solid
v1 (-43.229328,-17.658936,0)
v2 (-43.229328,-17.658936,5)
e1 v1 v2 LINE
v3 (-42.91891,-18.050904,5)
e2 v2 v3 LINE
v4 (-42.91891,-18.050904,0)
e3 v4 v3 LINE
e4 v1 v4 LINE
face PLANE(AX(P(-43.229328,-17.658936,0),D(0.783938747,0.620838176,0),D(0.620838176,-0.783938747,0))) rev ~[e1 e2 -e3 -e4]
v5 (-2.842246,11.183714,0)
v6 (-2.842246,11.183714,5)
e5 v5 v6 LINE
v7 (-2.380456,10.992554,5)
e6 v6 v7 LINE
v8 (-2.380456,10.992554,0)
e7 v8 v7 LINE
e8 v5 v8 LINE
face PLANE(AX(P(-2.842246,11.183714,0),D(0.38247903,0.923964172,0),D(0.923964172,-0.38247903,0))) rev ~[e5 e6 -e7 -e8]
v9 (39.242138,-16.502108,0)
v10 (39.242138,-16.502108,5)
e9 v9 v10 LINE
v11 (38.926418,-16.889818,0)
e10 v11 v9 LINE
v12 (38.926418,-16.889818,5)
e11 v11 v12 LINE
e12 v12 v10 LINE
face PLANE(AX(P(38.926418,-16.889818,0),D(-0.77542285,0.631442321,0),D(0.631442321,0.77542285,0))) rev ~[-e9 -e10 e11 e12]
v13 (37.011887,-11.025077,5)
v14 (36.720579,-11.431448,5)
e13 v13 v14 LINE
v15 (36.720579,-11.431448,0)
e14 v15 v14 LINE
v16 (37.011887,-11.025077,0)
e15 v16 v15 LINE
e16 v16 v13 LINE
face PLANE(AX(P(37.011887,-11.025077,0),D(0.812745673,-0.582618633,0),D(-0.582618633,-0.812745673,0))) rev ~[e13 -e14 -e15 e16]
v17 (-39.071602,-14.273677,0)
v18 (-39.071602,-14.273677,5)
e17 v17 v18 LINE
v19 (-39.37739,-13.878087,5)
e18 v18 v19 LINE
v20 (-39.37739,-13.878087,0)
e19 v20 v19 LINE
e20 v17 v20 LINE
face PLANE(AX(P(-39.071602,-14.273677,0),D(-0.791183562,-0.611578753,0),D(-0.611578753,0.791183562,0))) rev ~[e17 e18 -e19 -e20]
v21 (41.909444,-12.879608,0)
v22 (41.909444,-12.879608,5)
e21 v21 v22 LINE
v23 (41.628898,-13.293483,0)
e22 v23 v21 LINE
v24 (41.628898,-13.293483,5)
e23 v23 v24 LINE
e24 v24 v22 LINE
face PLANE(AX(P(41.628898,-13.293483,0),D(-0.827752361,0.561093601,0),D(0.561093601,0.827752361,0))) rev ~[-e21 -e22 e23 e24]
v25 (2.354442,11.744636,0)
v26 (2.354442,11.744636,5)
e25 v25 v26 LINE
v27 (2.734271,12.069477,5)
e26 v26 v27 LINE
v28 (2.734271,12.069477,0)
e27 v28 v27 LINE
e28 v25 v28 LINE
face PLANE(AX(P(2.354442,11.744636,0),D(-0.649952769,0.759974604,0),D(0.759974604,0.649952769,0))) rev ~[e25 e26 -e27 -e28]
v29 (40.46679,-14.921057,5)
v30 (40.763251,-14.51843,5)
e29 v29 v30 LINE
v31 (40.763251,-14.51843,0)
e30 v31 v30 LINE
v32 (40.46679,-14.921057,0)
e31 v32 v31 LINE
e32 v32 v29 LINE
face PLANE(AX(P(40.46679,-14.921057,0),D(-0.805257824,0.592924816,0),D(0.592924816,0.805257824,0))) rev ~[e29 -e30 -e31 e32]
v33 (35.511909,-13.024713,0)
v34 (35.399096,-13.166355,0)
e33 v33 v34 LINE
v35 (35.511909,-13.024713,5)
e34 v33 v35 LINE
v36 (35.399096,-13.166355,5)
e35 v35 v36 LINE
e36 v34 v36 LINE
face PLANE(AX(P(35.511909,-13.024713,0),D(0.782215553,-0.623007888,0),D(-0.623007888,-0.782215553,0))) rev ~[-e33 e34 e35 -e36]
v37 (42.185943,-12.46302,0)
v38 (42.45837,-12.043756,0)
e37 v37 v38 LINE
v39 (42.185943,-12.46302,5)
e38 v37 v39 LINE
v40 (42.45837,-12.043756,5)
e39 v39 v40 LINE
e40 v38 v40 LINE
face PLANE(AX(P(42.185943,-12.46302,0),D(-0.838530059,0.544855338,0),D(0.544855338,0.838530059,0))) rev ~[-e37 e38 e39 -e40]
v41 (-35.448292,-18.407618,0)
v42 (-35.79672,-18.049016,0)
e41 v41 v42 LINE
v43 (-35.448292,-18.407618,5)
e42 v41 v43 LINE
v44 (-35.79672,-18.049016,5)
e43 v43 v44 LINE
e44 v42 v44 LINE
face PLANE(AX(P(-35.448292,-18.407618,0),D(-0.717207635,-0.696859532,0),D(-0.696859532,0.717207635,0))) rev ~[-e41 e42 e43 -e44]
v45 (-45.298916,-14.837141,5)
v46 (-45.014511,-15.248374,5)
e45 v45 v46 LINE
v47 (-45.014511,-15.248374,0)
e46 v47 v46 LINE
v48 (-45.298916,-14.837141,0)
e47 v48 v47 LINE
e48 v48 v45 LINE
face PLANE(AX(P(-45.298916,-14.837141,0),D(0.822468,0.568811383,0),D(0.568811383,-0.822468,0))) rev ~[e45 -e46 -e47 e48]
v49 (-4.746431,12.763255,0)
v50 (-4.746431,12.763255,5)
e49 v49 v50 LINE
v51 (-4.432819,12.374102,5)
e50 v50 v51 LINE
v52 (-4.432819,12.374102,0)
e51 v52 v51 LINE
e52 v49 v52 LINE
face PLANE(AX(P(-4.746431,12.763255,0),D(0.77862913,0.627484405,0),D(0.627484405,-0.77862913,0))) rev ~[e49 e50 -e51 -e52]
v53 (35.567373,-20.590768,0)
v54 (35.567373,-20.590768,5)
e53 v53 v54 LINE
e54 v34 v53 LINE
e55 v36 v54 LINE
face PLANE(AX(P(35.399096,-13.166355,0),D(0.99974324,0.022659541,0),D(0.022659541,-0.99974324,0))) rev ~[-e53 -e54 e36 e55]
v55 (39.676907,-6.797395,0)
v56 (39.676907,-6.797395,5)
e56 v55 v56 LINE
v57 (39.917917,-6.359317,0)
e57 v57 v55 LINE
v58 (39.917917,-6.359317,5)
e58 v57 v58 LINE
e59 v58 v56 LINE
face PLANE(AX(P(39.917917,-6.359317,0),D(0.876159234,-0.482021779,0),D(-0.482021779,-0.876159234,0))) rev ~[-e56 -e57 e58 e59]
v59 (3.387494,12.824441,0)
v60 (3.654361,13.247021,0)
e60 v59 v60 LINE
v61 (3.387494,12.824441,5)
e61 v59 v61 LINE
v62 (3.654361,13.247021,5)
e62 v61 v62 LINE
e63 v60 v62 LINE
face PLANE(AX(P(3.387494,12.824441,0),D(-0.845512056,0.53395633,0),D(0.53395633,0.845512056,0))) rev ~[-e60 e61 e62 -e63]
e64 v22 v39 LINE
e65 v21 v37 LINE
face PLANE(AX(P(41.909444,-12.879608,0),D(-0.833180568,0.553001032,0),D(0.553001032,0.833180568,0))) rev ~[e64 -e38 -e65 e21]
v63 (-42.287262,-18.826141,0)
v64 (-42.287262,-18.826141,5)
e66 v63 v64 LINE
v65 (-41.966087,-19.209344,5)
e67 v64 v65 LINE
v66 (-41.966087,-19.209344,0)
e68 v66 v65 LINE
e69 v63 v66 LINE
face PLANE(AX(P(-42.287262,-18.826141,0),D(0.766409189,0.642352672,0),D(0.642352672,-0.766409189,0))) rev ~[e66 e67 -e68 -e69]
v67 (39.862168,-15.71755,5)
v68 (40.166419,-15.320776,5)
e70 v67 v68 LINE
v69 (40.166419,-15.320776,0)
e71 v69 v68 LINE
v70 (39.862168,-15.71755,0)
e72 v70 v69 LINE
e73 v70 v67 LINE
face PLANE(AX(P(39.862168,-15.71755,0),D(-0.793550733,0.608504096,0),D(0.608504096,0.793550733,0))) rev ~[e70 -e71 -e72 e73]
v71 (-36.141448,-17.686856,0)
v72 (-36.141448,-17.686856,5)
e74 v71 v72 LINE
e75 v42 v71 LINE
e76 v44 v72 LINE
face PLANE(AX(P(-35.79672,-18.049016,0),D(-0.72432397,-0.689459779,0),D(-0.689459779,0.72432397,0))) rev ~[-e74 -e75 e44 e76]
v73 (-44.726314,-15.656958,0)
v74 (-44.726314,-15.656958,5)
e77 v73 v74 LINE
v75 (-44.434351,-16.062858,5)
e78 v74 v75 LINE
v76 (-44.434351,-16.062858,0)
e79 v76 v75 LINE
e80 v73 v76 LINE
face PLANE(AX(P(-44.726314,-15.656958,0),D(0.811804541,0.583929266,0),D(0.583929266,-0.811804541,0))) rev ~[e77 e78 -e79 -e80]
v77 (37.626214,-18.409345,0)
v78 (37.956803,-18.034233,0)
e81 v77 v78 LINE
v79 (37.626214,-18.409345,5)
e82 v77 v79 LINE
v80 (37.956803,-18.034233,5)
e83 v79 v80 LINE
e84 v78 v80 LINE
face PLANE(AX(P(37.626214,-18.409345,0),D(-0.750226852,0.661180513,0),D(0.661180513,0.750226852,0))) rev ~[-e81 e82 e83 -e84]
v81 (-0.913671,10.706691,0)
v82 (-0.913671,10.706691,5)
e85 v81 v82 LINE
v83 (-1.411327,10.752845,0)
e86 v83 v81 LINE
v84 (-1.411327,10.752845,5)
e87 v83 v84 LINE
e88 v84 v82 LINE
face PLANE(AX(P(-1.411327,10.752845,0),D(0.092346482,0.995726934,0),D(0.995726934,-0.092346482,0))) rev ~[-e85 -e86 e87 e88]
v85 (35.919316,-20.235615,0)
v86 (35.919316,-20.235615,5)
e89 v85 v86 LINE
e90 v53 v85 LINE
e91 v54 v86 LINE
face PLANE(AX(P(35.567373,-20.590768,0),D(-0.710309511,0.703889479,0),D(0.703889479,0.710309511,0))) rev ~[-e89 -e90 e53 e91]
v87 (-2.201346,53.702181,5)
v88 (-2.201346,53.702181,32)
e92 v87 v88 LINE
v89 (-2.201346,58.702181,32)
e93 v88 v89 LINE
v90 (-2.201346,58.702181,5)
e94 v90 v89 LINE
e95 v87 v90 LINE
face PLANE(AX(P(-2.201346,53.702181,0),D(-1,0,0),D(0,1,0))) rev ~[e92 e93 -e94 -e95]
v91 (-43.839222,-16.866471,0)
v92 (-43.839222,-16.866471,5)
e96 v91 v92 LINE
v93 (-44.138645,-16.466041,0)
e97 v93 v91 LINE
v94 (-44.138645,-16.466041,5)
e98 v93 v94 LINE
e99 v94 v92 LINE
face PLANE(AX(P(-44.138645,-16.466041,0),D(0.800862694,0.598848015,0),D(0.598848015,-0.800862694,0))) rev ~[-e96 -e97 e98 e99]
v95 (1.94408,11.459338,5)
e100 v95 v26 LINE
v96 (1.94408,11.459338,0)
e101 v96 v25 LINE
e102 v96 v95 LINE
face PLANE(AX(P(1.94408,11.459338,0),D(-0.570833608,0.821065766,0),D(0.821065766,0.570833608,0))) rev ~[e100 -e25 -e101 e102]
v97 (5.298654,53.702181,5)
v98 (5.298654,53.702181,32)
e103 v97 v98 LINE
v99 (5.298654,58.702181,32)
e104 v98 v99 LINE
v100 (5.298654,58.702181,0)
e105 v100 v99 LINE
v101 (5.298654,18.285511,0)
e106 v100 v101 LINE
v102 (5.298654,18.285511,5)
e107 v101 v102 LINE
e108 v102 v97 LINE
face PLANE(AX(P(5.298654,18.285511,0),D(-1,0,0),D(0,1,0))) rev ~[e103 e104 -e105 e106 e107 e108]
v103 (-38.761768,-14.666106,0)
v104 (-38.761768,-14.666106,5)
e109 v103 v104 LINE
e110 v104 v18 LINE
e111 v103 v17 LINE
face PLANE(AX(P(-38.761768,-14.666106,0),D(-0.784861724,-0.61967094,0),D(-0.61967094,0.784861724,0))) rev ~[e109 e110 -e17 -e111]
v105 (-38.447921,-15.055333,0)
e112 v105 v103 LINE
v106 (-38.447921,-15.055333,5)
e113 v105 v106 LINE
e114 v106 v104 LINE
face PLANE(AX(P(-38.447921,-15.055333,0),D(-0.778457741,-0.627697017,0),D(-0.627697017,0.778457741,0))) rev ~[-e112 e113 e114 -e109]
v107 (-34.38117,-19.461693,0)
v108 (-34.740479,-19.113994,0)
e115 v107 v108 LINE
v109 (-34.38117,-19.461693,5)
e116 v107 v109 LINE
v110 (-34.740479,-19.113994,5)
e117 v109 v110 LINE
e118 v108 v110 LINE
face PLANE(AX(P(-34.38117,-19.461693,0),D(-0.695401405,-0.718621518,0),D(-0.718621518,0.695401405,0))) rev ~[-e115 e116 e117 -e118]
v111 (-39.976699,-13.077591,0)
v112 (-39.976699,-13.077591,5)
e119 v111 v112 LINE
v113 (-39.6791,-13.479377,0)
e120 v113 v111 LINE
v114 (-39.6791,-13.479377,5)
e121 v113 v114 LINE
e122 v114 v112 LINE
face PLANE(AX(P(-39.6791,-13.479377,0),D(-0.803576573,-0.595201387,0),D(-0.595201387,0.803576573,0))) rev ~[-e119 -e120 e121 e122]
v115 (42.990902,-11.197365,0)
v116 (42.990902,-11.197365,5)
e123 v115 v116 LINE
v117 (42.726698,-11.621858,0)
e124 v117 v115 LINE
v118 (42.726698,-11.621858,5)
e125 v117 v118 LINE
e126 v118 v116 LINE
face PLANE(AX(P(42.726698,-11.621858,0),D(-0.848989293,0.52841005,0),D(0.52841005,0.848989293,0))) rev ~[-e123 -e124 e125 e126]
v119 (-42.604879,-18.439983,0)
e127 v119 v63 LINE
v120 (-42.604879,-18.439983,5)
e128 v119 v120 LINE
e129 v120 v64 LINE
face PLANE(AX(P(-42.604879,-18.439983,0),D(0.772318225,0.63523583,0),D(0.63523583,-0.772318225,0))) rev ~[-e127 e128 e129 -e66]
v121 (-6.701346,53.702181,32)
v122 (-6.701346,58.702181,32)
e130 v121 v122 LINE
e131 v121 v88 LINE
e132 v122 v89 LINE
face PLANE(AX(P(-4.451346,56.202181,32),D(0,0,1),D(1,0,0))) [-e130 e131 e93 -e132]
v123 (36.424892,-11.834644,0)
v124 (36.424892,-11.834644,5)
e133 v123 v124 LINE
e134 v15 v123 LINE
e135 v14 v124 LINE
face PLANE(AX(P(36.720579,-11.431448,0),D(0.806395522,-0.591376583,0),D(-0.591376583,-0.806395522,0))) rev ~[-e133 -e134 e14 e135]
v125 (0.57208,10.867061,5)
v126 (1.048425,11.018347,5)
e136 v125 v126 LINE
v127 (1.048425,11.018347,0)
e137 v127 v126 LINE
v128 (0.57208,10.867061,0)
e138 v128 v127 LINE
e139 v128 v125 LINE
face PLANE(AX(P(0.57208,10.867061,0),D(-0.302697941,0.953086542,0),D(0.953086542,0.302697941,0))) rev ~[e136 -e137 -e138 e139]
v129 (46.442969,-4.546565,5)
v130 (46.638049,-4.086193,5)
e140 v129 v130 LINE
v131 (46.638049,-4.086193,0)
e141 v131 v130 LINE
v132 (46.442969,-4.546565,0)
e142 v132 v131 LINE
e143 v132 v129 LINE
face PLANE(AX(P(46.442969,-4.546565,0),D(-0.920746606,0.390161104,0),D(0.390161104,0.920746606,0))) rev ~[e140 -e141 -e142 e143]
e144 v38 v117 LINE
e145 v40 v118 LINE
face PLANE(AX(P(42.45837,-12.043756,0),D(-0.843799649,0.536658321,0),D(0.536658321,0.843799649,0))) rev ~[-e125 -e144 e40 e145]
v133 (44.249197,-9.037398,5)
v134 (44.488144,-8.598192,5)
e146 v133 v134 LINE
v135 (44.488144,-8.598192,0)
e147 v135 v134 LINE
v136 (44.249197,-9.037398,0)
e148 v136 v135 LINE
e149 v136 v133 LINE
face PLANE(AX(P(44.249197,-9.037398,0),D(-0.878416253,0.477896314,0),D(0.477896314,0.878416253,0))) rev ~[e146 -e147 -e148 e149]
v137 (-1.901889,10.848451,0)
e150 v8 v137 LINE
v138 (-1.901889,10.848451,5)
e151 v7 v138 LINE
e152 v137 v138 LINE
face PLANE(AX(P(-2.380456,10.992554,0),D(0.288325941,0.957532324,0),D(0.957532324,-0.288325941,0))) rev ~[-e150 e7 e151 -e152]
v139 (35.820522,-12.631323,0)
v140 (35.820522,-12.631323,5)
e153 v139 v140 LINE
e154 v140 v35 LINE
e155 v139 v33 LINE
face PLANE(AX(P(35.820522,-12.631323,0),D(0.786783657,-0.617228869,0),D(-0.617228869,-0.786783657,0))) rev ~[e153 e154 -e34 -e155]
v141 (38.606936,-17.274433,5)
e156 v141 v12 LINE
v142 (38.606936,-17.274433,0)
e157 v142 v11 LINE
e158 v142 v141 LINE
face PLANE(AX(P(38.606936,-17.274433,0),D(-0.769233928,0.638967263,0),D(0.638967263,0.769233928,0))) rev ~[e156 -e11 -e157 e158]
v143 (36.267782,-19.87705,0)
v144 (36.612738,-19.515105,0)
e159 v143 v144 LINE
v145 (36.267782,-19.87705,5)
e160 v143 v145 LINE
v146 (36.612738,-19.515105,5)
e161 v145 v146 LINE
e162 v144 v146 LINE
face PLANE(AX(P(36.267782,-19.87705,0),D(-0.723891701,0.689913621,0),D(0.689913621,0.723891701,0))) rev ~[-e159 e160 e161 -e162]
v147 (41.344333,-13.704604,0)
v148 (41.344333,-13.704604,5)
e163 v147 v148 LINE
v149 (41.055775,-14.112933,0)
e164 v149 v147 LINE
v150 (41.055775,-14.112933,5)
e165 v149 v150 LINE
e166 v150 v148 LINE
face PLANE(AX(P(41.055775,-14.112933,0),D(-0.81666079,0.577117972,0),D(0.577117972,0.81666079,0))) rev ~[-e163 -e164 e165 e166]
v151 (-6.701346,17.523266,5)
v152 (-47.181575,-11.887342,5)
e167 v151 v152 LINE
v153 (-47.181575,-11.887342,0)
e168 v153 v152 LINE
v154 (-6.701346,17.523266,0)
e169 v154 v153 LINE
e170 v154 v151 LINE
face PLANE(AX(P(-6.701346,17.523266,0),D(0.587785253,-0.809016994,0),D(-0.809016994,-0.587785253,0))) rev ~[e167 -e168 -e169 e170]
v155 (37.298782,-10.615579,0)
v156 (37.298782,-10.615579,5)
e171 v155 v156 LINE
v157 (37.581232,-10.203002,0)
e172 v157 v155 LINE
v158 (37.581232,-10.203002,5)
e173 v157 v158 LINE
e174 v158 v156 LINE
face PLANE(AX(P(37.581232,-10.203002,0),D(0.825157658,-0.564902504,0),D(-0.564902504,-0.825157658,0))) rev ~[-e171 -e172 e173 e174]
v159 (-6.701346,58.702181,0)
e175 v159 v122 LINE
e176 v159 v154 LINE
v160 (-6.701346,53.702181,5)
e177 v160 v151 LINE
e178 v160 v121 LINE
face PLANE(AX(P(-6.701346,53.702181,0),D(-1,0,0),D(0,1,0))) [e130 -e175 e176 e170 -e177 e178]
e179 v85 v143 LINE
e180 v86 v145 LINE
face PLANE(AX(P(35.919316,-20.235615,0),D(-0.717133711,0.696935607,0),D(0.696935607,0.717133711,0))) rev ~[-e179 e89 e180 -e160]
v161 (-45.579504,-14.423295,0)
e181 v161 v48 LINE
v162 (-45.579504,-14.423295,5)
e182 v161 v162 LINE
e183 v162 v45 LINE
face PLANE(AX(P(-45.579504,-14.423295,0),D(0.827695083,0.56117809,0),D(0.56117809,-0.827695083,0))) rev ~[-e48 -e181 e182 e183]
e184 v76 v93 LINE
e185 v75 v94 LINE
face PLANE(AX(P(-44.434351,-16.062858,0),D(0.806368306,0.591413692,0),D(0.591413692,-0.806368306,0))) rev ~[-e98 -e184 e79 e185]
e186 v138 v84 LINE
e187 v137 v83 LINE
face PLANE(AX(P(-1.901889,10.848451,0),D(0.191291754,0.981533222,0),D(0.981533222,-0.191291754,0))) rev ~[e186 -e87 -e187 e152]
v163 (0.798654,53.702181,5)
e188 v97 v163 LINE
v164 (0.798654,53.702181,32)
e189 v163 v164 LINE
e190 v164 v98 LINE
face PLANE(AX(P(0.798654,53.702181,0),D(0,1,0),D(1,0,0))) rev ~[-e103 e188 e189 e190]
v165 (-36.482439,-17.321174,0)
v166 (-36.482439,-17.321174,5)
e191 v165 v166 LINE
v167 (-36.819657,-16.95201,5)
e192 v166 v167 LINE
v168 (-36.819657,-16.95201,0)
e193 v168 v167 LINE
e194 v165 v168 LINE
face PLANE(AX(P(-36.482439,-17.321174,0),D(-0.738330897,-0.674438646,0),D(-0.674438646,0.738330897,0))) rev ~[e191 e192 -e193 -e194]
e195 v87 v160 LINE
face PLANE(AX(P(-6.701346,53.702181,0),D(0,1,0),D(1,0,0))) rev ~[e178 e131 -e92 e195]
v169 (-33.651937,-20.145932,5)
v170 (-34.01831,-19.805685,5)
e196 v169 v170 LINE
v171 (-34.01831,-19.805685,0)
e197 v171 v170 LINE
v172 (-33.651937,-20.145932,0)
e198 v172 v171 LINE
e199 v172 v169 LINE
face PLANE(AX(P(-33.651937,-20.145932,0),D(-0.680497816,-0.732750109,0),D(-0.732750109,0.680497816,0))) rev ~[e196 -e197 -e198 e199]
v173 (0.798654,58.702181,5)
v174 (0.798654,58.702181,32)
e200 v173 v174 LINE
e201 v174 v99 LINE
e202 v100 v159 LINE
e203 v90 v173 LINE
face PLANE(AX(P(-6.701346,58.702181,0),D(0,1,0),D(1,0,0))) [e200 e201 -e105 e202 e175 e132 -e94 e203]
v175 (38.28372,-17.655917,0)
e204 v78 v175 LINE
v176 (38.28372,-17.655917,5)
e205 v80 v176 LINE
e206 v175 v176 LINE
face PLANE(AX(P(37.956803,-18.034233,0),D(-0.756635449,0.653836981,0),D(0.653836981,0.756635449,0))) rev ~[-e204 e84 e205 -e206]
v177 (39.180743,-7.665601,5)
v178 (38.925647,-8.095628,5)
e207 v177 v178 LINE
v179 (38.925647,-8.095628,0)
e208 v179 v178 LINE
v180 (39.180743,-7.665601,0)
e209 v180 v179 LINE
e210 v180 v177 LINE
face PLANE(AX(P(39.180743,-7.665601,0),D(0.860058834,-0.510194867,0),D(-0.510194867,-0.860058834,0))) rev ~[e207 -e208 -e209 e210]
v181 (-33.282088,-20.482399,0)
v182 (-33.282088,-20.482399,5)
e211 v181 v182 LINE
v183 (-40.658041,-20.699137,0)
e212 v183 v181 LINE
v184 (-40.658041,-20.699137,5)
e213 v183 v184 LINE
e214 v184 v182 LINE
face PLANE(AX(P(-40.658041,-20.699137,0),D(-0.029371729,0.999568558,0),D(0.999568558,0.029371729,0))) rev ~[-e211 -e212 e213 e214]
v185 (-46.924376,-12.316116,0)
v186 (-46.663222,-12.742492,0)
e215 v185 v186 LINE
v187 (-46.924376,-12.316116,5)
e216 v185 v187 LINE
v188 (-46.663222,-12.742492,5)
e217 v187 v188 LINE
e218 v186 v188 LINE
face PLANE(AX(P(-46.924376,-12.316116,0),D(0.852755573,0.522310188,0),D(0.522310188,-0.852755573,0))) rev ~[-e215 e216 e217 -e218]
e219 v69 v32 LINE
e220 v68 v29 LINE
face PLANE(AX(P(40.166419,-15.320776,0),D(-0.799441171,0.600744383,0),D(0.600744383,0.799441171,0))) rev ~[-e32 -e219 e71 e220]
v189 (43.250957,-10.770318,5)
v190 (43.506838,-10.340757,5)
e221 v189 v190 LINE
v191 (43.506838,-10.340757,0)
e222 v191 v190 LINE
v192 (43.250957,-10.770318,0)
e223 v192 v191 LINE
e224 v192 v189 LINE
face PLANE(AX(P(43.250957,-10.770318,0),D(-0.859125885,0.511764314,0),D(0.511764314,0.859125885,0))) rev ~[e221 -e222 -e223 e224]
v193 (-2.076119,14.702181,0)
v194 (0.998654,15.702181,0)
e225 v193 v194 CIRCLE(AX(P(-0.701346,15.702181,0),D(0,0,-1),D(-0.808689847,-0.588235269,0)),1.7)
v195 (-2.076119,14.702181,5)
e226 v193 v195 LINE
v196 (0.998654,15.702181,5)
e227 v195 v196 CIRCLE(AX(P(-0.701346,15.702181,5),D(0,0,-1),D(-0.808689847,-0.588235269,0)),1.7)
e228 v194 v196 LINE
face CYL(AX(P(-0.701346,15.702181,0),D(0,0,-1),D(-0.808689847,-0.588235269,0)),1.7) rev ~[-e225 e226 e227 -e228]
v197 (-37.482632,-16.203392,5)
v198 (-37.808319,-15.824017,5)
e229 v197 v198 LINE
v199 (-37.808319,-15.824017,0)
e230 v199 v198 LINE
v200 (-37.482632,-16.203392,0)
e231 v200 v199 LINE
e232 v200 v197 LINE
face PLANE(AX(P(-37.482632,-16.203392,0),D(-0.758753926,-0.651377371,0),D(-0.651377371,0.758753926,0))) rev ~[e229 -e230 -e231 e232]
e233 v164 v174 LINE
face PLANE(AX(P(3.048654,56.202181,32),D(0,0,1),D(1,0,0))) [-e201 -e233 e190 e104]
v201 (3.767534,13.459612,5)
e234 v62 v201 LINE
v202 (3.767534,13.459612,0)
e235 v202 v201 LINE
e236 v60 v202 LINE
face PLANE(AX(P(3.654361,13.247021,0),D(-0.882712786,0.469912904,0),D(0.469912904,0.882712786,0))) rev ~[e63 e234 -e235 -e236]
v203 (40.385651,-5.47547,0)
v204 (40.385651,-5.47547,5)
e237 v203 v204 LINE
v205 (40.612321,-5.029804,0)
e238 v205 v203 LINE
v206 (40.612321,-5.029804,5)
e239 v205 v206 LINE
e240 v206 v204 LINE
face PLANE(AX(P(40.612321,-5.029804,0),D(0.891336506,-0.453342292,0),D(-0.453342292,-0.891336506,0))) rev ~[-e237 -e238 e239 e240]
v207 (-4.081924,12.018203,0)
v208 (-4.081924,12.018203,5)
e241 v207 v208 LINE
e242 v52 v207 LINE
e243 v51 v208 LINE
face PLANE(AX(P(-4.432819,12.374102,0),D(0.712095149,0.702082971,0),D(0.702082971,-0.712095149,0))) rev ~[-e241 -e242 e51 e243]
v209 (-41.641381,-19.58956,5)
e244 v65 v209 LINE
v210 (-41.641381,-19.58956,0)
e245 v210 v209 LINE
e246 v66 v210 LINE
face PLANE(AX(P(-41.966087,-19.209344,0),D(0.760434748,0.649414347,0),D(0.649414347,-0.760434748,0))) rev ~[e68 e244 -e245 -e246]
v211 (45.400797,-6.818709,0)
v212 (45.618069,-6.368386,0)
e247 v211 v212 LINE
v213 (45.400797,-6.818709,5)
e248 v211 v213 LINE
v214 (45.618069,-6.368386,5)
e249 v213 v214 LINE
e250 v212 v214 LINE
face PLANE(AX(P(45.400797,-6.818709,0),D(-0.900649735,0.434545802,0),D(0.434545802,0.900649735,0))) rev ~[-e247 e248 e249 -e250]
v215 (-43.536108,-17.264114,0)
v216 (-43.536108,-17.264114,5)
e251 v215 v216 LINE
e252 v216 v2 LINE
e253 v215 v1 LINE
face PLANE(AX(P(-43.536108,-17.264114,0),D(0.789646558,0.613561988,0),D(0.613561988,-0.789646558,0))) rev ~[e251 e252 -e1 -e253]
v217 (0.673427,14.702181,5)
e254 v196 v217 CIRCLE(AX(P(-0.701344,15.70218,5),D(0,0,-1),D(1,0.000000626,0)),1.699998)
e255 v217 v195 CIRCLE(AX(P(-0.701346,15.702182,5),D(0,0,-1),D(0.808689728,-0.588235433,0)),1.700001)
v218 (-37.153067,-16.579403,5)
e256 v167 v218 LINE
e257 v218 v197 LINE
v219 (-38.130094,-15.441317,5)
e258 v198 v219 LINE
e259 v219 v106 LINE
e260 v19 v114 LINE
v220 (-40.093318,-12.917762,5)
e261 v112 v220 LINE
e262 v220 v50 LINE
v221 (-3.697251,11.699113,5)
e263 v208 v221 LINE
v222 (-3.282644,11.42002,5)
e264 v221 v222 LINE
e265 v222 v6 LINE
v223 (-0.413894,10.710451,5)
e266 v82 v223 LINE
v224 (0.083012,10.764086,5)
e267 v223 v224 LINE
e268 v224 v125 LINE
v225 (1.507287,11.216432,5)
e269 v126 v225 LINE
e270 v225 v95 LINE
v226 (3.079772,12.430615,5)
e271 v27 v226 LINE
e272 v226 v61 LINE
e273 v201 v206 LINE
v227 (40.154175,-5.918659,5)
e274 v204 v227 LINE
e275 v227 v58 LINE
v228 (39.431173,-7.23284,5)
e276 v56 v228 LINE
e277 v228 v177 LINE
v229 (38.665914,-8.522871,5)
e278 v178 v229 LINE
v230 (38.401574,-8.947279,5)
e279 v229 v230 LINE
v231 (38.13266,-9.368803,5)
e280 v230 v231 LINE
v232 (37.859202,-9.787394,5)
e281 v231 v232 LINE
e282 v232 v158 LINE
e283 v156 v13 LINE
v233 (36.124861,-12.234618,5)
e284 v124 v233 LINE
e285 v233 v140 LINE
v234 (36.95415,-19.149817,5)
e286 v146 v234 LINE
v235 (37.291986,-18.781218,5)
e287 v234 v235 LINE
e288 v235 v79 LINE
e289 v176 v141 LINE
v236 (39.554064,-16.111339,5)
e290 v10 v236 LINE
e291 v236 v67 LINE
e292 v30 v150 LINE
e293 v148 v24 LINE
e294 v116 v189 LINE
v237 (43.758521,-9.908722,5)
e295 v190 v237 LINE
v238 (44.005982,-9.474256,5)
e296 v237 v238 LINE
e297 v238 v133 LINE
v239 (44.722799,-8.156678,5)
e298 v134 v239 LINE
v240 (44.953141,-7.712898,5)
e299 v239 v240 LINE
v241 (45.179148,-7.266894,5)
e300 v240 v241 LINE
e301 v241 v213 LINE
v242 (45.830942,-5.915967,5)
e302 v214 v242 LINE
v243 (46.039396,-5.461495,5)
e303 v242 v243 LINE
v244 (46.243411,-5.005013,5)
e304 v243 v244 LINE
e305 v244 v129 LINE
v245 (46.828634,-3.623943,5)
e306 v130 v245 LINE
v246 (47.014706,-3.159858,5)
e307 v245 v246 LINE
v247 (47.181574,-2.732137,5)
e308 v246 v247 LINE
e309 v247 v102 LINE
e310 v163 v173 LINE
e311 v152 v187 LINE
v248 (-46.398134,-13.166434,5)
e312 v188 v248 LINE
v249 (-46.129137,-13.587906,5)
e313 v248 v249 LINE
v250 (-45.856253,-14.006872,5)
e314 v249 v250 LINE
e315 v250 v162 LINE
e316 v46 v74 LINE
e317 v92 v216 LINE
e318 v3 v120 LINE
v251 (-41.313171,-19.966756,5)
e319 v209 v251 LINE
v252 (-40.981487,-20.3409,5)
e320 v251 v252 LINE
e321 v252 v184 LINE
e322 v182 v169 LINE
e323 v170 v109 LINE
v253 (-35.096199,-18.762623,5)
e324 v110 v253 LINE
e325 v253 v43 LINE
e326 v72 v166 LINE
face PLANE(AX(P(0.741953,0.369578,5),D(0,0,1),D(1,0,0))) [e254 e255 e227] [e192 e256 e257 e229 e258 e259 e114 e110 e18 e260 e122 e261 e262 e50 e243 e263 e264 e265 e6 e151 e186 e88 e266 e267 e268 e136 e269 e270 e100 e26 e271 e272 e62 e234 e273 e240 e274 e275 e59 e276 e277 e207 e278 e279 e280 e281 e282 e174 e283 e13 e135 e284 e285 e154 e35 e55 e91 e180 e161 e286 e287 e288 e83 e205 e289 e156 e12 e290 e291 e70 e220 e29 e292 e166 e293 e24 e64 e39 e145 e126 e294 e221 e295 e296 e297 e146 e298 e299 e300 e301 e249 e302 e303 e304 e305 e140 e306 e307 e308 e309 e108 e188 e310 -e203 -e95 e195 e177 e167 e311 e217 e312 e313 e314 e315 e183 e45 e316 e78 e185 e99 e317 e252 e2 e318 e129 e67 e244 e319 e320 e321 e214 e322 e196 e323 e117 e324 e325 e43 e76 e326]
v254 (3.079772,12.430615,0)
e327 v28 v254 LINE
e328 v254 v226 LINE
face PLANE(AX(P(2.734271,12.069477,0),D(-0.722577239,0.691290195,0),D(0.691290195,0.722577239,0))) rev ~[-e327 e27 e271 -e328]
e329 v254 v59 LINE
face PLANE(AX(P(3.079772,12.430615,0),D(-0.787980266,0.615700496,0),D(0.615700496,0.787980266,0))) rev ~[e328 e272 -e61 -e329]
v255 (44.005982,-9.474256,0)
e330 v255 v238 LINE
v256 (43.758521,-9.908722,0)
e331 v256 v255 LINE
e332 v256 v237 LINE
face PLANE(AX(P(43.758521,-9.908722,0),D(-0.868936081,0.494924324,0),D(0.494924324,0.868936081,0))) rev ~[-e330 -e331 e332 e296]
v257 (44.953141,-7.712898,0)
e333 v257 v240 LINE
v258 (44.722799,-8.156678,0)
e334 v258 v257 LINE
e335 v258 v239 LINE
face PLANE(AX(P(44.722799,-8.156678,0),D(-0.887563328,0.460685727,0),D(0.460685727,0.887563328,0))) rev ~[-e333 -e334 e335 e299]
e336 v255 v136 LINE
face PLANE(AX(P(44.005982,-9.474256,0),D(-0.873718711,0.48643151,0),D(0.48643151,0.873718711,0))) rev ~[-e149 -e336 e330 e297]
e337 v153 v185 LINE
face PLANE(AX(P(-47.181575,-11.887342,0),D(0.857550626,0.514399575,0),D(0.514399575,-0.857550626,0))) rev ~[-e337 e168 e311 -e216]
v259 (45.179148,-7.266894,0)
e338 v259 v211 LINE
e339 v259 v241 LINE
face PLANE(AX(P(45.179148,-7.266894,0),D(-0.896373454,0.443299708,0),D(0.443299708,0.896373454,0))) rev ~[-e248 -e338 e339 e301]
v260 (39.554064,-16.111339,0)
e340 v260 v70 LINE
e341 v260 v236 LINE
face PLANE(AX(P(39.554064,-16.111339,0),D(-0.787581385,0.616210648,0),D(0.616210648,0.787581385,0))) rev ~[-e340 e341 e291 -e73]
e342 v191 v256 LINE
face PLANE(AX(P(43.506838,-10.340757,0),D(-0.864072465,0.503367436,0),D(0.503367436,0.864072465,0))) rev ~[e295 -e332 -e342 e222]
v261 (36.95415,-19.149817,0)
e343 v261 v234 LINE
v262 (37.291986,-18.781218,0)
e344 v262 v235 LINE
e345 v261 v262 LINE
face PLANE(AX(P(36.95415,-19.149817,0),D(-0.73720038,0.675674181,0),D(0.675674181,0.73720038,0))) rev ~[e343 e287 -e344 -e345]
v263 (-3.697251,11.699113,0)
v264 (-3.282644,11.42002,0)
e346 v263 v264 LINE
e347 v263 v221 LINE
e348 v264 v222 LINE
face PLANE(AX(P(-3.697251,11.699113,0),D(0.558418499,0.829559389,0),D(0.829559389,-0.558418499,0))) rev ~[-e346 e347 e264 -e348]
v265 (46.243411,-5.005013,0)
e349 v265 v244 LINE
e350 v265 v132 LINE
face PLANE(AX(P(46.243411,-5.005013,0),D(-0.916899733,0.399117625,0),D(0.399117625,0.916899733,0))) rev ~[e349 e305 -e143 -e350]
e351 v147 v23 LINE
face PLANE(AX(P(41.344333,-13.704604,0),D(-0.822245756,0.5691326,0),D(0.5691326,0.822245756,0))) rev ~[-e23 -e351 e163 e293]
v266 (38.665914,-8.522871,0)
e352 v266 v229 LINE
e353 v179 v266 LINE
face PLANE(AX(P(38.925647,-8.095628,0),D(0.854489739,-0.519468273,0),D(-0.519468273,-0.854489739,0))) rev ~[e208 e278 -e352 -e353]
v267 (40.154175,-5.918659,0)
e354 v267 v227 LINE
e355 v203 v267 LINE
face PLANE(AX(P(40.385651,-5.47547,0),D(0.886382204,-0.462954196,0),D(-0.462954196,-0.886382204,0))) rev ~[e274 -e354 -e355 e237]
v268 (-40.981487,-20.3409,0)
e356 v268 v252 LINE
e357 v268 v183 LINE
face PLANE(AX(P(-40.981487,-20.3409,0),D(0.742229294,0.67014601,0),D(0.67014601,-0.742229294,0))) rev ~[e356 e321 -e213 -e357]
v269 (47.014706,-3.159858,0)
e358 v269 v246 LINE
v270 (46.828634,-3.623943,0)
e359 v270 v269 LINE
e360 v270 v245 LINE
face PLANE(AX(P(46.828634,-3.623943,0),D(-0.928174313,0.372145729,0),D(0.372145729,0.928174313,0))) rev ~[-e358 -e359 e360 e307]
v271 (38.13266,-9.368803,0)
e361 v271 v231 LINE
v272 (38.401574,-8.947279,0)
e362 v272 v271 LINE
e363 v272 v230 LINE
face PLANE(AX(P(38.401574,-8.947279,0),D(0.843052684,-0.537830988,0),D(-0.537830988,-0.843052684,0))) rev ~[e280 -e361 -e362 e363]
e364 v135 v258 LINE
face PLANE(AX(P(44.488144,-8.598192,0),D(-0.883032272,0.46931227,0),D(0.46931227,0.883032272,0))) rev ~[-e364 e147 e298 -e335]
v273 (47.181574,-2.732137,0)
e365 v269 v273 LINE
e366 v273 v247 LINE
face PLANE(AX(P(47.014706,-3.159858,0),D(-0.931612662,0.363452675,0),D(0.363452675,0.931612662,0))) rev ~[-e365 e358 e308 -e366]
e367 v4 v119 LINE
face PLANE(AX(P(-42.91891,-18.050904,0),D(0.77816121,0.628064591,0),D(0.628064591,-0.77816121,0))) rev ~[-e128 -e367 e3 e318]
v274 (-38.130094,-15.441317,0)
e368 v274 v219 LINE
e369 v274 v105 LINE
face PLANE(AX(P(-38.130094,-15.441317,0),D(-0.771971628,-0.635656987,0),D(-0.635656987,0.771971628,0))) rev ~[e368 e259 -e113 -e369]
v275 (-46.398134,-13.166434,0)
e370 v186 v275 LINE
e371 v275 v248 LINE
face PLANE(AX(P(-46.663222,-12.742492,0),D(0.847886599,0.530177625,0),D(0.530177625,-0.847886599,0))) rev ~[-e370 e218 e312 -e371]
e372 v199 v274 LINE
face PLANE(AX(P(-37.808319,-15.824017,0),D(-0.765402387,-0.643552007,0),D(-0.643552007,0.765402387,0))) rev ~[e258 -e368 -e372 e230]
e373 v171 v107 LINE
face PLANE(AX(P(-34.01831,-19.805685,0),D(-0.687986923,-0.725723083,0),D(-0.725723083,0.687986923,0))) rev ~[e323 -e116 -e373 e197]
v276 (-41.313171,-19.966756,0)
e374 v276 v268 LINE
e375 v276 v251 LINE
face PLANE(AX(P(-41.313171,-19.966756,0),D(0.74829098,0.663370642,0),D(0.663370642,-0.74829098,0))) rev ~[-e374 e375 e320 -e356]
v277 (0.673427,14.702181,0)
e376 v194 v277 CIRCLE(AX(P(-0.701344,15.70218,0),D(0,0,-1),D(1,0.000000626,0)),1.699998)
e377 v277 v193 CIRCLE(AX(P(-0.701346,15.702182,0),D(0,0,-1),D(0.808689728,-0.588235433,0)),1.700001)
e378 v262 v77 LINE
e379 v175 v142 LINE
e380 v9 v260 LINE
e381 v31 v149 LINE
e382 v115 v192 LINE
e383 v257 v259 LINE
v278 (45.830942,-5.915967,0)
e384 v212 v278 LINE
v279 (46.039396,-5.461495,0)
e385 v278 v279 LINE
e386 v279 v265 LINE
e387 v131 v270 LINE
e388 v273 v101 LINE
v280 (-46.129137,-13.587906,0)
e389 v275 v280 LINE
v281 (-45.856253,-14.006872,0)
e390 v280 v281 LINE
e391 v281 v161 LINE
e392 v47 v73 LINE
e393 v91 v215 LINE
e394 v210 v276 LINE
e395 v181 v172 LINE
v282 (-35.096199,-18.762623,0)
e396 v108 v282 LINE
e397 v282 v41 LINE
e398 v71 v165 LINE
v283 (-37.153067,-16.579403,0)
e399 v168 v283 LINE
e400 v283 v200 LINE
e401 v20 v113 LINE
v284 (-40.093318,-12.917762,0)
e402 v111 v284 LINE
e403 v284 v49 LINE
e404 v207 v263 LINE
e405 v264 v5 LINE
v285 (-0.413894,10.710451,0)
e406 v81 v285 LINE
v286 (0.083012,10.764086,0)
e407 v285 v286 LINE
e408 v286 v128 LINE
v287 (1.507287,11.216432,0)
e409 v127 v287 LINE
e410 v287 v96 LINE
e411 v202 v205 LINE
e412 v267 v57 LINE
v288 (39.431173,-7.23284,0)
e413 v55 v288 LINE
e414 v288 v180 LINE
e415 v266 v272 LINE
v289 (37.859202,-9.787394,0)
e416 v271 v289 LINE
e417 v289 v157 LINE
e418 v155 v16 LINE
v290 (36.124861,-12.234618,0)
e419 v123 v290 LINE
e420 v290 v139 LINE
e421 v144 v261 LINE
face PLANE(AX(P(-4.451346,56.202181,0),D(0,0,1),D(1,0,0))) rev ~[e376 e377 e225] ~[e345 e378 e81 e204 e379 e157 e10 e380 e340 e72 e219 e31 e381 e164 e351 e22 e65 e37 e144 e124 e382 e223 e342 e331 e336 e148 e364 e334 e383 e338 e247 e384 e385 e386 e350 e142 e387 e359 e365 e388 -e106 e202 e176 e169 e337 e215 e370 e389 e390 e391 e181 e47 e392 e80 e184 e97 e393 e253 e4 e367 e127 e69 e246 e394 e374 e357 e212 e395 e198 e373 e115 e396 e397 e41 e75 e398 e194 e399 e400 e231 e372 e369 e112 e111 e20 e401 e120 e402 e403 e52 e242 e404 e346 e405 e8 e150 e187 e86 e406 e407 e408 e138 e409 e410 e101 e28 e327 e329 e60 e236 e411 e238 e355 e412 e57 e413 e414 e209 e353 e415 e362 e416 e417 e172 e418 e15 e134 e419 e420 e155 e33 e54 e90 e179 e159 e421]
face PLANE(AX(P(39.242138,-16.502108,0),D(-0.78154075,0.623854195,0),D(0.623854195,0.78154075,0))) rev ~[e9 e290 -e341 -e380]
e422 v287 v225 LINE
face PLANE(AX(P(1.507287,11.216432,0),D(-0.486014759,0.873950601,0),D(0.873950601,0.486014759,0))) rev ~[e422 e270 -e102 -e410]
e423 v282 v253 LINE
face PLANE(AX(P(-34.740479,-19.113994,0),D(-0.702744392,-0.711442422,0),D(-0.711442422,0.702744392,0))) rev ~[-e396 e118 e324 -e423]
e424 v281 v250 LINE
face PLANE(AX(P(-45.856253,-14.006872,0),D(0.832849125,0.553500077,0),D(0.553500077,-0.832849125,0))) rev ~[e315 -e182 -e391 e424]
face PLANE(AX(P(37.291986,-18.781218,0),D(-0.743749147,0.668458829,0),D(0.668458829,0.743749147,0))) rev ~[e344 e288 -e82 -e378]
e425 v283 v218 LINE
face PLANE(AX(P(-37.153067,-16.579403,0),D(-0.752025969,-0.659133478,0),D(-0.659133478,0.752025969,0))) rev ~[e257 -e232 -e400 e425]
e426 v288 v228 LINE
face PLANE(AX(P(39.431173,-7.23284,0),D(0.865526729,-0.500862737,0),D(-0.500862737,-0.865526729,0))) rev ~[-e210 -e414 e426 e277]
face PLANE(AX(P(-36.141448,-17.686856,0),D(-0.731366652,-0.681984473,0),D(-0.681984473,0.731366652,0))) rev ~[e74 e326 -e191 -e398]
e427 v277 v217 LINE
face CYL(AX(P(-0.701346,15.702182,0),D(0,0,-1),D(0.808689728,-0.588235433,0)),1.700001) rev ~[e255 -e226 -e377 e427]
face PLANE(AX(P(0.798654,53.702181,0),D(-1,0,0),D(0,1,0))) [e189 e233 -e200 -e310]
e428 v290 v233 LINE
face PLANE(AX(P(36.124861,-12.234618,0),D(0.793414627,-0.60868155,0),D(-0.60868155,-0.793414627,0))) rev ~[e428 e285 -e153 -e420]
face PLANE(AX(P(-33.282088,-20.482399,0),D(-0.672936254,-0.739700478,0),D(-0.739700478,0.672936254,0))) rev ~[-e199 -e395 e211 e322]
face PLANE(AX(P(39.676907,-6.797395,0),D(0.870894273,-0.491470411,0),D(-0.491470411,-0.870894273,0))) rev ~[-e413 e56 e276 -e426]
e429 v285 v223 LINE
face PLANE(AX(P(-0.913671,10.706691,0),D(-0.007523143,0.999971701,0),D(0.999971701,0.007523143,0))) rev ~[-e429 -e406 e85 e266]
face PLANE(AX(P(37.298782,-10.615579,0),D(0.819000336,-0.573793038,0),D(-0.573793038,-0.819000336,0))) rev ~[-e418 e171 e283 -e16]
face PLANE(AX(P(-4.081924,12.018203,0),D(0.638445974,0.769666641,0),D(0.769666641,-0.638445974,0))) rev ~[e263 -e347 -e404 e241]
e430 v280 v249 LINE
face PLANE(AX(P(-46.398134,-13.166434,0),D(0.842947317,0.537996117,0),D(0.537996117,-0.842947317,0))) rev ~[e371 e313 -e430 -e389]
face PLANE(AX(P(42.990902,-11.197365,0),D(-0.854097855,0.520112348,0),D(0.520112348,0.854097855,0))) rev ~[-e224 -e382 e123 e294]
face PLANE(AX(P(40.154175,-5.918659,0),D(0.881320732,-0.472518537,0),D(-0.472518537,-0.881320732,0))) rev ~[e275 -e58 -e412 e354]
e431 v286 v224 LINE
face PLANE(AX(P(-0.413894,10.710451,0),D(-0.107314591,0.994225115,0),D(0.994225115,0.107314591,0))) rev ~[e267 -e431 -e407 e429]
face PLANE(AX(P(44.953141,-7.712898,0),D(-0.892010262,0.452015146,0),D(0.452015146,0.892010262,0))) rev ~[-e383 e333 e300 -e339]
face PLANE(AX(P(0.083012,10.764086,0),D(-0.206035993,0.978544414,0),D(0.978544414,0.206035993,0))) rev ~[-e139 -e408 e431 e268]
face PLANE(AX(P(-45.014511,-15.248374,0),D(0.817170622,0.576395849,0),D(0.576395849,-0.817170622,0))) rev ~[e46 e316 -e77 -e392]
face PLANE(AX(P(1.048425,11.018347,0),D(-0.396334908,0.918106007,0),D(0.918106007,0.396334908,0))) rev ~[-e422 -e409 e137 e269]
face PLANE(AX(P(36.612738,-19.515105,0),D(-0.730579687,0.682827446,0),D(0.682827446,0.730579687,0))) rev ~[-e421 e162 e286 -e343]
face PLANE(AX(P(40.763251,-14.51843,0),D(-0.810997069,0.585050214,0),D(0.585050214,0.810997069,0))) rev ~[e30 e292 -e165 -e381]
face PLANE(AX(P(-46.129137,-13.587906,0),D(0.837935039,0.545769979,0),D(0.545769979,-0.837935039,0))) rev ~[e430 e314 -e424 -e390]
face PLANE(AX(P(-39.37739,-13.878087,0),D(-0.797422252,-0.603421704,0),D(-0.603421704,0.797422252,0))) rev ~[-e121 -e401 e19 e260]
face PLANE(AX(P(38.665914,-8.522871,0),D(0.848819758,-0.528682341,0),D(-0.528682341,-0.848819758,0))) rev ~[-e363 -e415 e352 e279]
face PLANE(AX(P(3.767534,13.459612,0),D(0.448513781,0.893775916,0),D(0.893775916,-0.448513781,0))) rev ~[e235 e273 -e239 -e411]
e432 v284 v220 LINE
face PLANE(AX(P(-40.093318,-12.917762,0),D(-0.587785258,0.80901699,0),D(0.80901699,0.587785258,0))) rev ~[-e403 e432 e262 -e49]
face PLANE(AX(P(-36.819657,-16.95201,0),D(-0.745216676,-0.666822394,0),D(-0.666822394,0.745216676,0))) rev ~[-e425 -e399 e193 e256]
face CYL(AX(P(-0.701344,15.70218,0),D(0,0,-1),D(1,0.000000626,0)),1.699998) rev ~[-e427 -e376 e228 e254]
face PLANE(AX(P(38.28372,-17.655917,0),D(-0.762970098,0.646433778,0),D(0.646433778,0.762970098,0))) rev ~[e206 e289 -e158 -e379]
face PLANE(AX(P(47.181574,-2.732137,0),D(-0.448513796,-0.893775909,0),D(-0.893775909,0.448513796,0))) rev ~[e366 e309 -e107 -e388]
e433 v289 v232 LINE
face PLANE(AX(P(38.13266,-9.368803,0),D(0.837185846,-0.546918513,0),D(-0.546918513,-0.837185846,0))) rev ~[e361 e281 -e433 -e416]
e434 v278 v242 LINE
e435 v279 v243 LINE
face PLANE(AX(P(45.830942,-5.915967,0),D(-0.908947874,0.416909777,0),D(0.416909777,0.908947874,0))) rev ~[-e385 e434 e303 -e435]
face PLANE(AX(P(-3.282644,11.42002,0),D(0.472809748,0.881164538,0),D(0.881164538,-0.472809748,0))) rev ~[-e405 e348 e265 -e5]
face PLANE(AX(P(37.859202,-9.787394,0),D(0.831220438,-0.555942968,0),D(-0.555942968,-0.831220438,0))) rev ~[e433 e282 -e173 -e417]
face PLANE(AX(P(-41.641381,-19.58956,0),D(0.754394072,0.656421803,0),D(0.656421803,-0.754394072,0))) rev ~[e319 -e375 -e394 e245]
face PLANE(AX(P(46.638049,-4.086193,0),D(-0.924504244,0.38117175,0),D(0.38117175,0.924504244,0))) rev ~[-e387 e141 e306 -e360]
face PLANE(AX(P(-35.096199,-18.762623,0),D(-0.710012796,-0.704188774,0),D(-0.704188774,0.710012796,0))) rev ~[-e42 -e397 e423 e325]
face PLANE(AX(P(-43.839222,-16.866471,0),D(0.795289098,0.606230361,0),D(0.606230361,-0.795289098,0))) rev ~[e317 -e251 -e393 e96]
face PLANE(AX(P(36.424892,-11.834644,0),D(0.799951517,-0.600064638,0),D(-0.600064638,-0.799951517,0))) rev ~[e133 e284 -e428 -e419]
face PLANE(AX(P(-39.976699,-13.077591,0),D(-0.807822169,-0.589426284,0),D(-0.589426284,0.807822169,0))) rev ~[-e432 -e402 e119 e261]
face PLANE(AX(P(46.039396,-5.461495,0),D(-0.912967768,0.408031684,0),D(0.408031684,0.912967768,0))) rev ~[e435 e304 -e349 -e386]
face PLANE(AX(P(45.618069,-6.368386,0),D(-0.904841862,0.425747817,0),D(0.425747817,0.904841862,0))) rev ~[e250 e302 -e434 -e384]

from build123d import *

# Parameters (mm, degrees)
F0_W     = 3
F0_H     = 5
F1_DEPTH = 5
F0_W_2   = 4.5
F2_DEPTH = 32


with BuildPart() as f1:
    # F0 (on Top) → F1 (new body)
    with BuildSketch(Plane.XY):
        with BuildLine():
            Line((47.181574, -2.732137), (5.298654, 18.285511))
            Line((5.298654, 18.285511), (5.298654, 14.702181))
            Line((5.298654, 14.702181), (0.673427, 14.702181))
            ThreePointArc((0.673427, 14.702181), (-0.701346, 14.002181), (-2.076119, 14.702181))
            Line((-2.076119, 14.702181), (-6.701346, 14.702181))
            Line((-6.701346, 14.702181), (-6.701346, 17.523266))
            Line((-6.701346, 17.523266), (-47.181575, -11.887342))
            Line((-47.181575, -11.887342), (-46.924376, -12.316116))
            Line((-46.924376, -12.316116), (-46.663222, -12.742492))
            Line((-46.663222, -12.742492), (-46.398134, -13.166434))
            Line((-46.398134, -13.166434), (-46.129137, -13.587906))
            Line((-46.129137, -13.587906), (-45.856253, -14.006872))
            Line((-45.856253, -14.006872), (-45.579504, -14.423295))
            Line((-45.579504, -14.423295), (-45.298916, -14.837141))
            Line((-45.298916, -14.837141), (-45.014511, -15.248374))
            Line((-45.014511, -15.248374), (-44.726314, -15.656958))
            Line((-44.726314, -15.656958), (-44.434351, -16.062858))
            Line((-44.434351, -16.062858), (-44.138645, -16.466041))
            Line((-44.138645, -16.466041), (-43.839222, -16.866471))
            Line((-43.839222, -16.866471), (-43.536108, -17.264114))
            Line((-43.536108, -17.264114), (-43.229328, -17.658936))
            Line((-43.229328, -17.658936), (-42.91891, -18.050904))
            Line((-42.91891, -18.050904), (-42.604879, -18.439983))
            Line((-42.604879, -18.439983), (-42.287262, -18.826141))
            Line((-42.287262, -18.826141), (-41.966087, -19.209344))
            Line((-41.966087, -19.209344), (-41.641381, -19.58956))
            Line((-41.641381, -19.58956), (-41.313171, -19.966756))
            Line((-41.313171, -19.966756), (-40.981487, -20.3409))
            Line((-40.981487, -20.3409), (-40.658041, -20.699137))
            Line((-40.658041, -20.699137), (-33.282088, -20.482399))
            Line((-33.282088, -20.482399), (-33.651937, -20.145932))
            Line((-33.651937, -20.145932), (-34.01831, -19.805685))
            Line((-34.01831, -19.805685), (-34.38117, -19.461693))
            Line((-34.38117, -19.461693), (-34.740479, -19.113994))
            Line((-34.740479, -19.113994), (-35.096199, -18.762623))
            Line((-35.096199, -18.762623), (-35.448292, -18.407618))
            Line((-35.448292, -18.407618), (-35.79672, -18.049016))
            Line((-35.79672, -18.049016), (-36.141448, -17.686856))
            Line((-36.141448, -17.686856), (-36.482439, -17.321174))
            Line((-36.482439, -17.321174), (-36.819657, -16.95201))
            Line((-36.819657, -16.95201), (-37.153067, -16.579403))
            Line((-37.153067, -16.579403), (-37.482632, -16.203392))
            Line((-37.482632, -16.203392), (-37.808319, -15.824017))
            Line((-37.808319, -15.824017), (-38.130094, -15.441317))
            Line((-38.130094, -15.441317), (-38.447921, -15.055333))
            Line((-38.447921, -15.055333), (-38.761768, -14.666106))
            Line((-38.761768, -14.666106), (-39.071602, -14.273677))
            Line((-39.071602, -14.273677), (-39.37739, -13.878087))
            Line((-39.37739, -13.878087), (-39.6791, -13.479377))
            Line((-39.6791, -13.479377), (-39.976699, -13.077591))
            Line((-39.976699, -13.077591), (-40.093318, -12.917762))
            Line((-40.093318, -12.917762), (-4.746431, 12.763255))
            Line((-4.746431, 12.763255), (-4.432819, 12.374102))
            Line((-4.432819, 12.374102), (-4.081924, 12.018203))
            Line((-4.081924, 12.018203), (-3.697251, 11.699113))
            Line((-3.697251, 11.699113), (-3.282644, 11.42002))
            Line((-3.282644, 11.42002), (-2.842246, 11.183714))
            Line((-2.842246, 11.183714), (-2.380456, 10.992554))
            Line((-2.380456, 10.992554), (-1.901889, 10.848451))
            Line((-1.901889, 10.848451), (-1.411327, 10.752845))
            Line((-1.411327, 10.752845), (-0.913671, 10.706691))
            Line((-0.913671, 10.706691), (-0.413894, 10.710451))
            Line((-0.413894, 10.710451), (0.083012, 10.764086))
            Line((0.083012, 10.764086), (0.57208, 10.867061))
            Line((0.57208, 10.867061), (1.048425, 11.018347))
            Line((1.048425, 11.018347), (1.507287, 11.216432))
            Line((1.507287, 11.216432), (1.94408, 11.459338))
            Line((1.94408, 11.459338), (2.354442, 11.744636))
            Line((2.354442, 11.744636), (2.734271, 12.069477))
            Line((2.734271, 12.069477), (3.079772, 12.430615))
            Line((3.079772, 12.430615), (3.387494, 12.824441))
            Line((3.387494, 12.824441), (3.654361, 13.247021))
            Line((3.654361, 13.247021), (3.767534, 13.459612))
            Line((3.767534, 13.459612), (40.612321, -5.029804))
            Line((40.612321, -5.029804), (40.385651, -5.47547))
            Line((40.385651, -5.47547), (40.154175, -5.918659))
            Line((40.154175, -5.918659), (39.917917, -6.359317))
            Line((39.917917, -6.359317), (39.676907, -6.797395))
            Line((39.676907, -6.797395), (39.431173, -7.23284))
            Line((39.431173, -7.23284), (39.180743, -7.665601))
            Line((39.180743, -7.665601), (38.925647, -8.095628))
            Line((38.925647, -8.095628), (38.665914, -8.522871))
            Line((38.665914, -8.522871), (38.401574, -8.947279))
            Line((38.401574, -8.947279), (38.13266, -9.368803))
            Line((38.13266, -9.368803), (37.859202, -9.787394))
            Line((37.859202, -9.787394), (37.581232, -10.203002))
            Line((37.581232, -10.203002), (37.298782, -10.615579))
            Line((37.298782, -10.615579), (37.011887, -11.025077))
            Line((37.011887, -11.025077), (36.720579, -11.431448))
            Line((36.720579, -11.431448), (36.424892, -11.834644))
            Line((36.424892, -11.834644), (36.124861, -12.234618))
            Line((36.124861, -12.234618), (35.820522, -12.631323))
            Line((35.820522, -12.631323), (35.511909, -13.024713))
            Line((35.511909, -13.024713), (35.399096, -13.166355))
            Line((35.399096, -13.166355), (35.567373, -20.590768))
            Line((35.567373, -20.590768), (35.919316, -20.235615))
            Line((35.919316, -20.235615), (36.267782, -19.87705))
            Line((36.267782, -19.87705), (36.612738, -19.515105))
            Line((36.612738, -19.515105), (36.95415, -19.149817))
            Line((36.95415, -19.149817), (37.291986, -18.781218))
            Line((37.291986, -18.781218), (37.626214, -18.409345))
            Line((37.626214, -18.409345), (37.956803, -18.034233))
            Line((37.956803, -18.034233), (38.28372, -17.655917))
            Line((38.28372, -17.655917), (38.606936, -17.274433))
            Line((38.606936, -17.274433), (38.926418, -16.889818))
            Line((38.926418, -16.889818), (39.242138, -16.502108))
            Line((39.242138, -16.502108), (39.554064, -16.111339))
            Line((39.554064, -16.111339), (39.862168, -15.71755))
            Line((39.862168, -15.71755), (40.166419, -15.320776))
            Line((40.166419, -15.320776), (40.46679, -14.921057))
            Line((40.46679, -14.921057), (40.763251, -14.51843))
            Line((40.763251, -14.51843), (41.055775, -14.112933))
            Line((41.055775, -14.112933), (41.344333, -13.704604))
            Line((41.344333, -13.704604), (41.628898, -13.293483))
            Line((41.628898, -13.293483), (41.909444, -12.879608))
            Line((41.909444, -12.879608), (42.185943, -12.46302))
            Line((42.185943, -12.46302), (42.45837, -12.043756))
            Line((42.45837, -12.043756), (42.726698, -11.621858))
            Line((42.726698, -11.621858), (42.990902, -11.197365))
            Line((42.990902, -11.197365), (43.250957, -10.770318))
            Line((43.250957, -10.770318), (43.506838, -10.340757))
            Line((43.506838, -10.340757), (43.758521, -9.908722))
            Line((43.758521, -9.908722), (44.005982, -9.474256))
            Line((44.005982, -9.474256), (44.249197, -9.037398))
            Line((44.249197, -9.037398), (44.488144, -8.598192))
            Line((44.488144, -8.598192), (44.722799, -8.156678))
            Line((44.722799, -8.156678), (44.953141, -7.712898))
            Line((44.953141, -7.712898), (45.179148, -7.266894))
            Line((45.179148, -7.266894), (45.400797, -6.818709))
            Line((45.400797, -6.818709), (45.618069, -6.368386))
            Line((45.618069, -6.368386), (45.830942, -5.915967))
            Line((45.830942, -5.915967), (46.039396, -5.461495))
            Line((46.039396, -5.461495), (46.243411, -5.005013))
            Line((46.243411, -5.005013), (46.442969, -4.546565))
            Line((46.442969, -4.546565), (46.638049, -4.086193))
            Line((46.638049, -4.086193), (46.828634, -3.623943))
            Line((46.828634, -3.623943), (47.014706, -3.159858))
            Line((47.014706, -3.159858), (47.181574, -2.732137))
        make_face()
        with BuildLine():
            Line((5.298654, 14.702181), (5.298654, 18.285511))
            Line((5.298654, 18.285511), (1.541223, 20.171061))
            Line((1.541223, 20.171061), (1.083876, 20.372618))
            Line((1.083876, 20.372618), (0.608691, 20.52751))
            Line((0.608691, 20.52751), (0.120418, 20.634189))
            Line((0.120418, 20.634189), (-0.376067, 20.691589))
            Line((-0.376067, 20.691589), (-0.875802, 20.699137))
            Line((-0.875802, 20.699137), (-1.373793, 20.656756))
            Line((-1.373793, 20.656756), (-1.865066, 20.564871))
            Line((-1.865066, 20.564871), (-2.344711, 20.4244))
            Line((-2.344711, 20.4244), (-2.807936, 20.236746))
            Line((-2.807936, 20.236746), (-3.250113, 20.003784))
            Line((-3.250113, 20.003784), (-3.640272, 19.747266))
            Line((-3.640272, 19.747266), (-6.701346, 17.523266))
            Line((-6.701346, 17.523266), (-6.701346, 14.702181))
            Line((-6.701346, 14.702181), (-2.076119, 14.702181))
            ThreePointArc((-2.076119, 14.702181), (-1.227125, 17.318831), (0.998654, 15.702181))
            ThreePointArc((0.998654, 15.702181), (0.915304, 15.176402), (0.673427, 14.702181))
            Line((0.673427, 14.702181), (5.298654, 14.702181))
        make_face()
        Polygon((5.298654, 53.702181), (0.798654, 53.702181), (-2.201346, 53.702181), (-6.701346, 53.702181), (-6.701346, 17.523266), (-3.640272, 19.747266), (-3.250113, 20.003784), (-2.807936, 20.236746), (-2.344711, 20.4244), (-1.865066, 20.564871), (-1.373793, 20.656756), (-0.875802, 20.699137), (-0.376067, 20.691589), (0.120418, 20.634189), (0.608691, 20.52751), (1.083876, 20.372618), (1.541223, 20.171061), (5.298654, 18.285511), align=None)
        with Locations((-0.701346, 56.202181)):
            Rectangle(F0_W, F0_H)
    extrude(amount=F1_DEPTH)

    # F0 (on Top) → F2 (join)
    with BuildSketch(Plane.XY):
        with Locations((-4.451346, 56.202181)):
            Rectangle(F0_W_2, F0_H)
        with Locations((3.048654, 56.202181)):
            Rectangle(F0_W_2, F0_H)
    extrude(amount=F2_DEPTH)


solid = f1.part
